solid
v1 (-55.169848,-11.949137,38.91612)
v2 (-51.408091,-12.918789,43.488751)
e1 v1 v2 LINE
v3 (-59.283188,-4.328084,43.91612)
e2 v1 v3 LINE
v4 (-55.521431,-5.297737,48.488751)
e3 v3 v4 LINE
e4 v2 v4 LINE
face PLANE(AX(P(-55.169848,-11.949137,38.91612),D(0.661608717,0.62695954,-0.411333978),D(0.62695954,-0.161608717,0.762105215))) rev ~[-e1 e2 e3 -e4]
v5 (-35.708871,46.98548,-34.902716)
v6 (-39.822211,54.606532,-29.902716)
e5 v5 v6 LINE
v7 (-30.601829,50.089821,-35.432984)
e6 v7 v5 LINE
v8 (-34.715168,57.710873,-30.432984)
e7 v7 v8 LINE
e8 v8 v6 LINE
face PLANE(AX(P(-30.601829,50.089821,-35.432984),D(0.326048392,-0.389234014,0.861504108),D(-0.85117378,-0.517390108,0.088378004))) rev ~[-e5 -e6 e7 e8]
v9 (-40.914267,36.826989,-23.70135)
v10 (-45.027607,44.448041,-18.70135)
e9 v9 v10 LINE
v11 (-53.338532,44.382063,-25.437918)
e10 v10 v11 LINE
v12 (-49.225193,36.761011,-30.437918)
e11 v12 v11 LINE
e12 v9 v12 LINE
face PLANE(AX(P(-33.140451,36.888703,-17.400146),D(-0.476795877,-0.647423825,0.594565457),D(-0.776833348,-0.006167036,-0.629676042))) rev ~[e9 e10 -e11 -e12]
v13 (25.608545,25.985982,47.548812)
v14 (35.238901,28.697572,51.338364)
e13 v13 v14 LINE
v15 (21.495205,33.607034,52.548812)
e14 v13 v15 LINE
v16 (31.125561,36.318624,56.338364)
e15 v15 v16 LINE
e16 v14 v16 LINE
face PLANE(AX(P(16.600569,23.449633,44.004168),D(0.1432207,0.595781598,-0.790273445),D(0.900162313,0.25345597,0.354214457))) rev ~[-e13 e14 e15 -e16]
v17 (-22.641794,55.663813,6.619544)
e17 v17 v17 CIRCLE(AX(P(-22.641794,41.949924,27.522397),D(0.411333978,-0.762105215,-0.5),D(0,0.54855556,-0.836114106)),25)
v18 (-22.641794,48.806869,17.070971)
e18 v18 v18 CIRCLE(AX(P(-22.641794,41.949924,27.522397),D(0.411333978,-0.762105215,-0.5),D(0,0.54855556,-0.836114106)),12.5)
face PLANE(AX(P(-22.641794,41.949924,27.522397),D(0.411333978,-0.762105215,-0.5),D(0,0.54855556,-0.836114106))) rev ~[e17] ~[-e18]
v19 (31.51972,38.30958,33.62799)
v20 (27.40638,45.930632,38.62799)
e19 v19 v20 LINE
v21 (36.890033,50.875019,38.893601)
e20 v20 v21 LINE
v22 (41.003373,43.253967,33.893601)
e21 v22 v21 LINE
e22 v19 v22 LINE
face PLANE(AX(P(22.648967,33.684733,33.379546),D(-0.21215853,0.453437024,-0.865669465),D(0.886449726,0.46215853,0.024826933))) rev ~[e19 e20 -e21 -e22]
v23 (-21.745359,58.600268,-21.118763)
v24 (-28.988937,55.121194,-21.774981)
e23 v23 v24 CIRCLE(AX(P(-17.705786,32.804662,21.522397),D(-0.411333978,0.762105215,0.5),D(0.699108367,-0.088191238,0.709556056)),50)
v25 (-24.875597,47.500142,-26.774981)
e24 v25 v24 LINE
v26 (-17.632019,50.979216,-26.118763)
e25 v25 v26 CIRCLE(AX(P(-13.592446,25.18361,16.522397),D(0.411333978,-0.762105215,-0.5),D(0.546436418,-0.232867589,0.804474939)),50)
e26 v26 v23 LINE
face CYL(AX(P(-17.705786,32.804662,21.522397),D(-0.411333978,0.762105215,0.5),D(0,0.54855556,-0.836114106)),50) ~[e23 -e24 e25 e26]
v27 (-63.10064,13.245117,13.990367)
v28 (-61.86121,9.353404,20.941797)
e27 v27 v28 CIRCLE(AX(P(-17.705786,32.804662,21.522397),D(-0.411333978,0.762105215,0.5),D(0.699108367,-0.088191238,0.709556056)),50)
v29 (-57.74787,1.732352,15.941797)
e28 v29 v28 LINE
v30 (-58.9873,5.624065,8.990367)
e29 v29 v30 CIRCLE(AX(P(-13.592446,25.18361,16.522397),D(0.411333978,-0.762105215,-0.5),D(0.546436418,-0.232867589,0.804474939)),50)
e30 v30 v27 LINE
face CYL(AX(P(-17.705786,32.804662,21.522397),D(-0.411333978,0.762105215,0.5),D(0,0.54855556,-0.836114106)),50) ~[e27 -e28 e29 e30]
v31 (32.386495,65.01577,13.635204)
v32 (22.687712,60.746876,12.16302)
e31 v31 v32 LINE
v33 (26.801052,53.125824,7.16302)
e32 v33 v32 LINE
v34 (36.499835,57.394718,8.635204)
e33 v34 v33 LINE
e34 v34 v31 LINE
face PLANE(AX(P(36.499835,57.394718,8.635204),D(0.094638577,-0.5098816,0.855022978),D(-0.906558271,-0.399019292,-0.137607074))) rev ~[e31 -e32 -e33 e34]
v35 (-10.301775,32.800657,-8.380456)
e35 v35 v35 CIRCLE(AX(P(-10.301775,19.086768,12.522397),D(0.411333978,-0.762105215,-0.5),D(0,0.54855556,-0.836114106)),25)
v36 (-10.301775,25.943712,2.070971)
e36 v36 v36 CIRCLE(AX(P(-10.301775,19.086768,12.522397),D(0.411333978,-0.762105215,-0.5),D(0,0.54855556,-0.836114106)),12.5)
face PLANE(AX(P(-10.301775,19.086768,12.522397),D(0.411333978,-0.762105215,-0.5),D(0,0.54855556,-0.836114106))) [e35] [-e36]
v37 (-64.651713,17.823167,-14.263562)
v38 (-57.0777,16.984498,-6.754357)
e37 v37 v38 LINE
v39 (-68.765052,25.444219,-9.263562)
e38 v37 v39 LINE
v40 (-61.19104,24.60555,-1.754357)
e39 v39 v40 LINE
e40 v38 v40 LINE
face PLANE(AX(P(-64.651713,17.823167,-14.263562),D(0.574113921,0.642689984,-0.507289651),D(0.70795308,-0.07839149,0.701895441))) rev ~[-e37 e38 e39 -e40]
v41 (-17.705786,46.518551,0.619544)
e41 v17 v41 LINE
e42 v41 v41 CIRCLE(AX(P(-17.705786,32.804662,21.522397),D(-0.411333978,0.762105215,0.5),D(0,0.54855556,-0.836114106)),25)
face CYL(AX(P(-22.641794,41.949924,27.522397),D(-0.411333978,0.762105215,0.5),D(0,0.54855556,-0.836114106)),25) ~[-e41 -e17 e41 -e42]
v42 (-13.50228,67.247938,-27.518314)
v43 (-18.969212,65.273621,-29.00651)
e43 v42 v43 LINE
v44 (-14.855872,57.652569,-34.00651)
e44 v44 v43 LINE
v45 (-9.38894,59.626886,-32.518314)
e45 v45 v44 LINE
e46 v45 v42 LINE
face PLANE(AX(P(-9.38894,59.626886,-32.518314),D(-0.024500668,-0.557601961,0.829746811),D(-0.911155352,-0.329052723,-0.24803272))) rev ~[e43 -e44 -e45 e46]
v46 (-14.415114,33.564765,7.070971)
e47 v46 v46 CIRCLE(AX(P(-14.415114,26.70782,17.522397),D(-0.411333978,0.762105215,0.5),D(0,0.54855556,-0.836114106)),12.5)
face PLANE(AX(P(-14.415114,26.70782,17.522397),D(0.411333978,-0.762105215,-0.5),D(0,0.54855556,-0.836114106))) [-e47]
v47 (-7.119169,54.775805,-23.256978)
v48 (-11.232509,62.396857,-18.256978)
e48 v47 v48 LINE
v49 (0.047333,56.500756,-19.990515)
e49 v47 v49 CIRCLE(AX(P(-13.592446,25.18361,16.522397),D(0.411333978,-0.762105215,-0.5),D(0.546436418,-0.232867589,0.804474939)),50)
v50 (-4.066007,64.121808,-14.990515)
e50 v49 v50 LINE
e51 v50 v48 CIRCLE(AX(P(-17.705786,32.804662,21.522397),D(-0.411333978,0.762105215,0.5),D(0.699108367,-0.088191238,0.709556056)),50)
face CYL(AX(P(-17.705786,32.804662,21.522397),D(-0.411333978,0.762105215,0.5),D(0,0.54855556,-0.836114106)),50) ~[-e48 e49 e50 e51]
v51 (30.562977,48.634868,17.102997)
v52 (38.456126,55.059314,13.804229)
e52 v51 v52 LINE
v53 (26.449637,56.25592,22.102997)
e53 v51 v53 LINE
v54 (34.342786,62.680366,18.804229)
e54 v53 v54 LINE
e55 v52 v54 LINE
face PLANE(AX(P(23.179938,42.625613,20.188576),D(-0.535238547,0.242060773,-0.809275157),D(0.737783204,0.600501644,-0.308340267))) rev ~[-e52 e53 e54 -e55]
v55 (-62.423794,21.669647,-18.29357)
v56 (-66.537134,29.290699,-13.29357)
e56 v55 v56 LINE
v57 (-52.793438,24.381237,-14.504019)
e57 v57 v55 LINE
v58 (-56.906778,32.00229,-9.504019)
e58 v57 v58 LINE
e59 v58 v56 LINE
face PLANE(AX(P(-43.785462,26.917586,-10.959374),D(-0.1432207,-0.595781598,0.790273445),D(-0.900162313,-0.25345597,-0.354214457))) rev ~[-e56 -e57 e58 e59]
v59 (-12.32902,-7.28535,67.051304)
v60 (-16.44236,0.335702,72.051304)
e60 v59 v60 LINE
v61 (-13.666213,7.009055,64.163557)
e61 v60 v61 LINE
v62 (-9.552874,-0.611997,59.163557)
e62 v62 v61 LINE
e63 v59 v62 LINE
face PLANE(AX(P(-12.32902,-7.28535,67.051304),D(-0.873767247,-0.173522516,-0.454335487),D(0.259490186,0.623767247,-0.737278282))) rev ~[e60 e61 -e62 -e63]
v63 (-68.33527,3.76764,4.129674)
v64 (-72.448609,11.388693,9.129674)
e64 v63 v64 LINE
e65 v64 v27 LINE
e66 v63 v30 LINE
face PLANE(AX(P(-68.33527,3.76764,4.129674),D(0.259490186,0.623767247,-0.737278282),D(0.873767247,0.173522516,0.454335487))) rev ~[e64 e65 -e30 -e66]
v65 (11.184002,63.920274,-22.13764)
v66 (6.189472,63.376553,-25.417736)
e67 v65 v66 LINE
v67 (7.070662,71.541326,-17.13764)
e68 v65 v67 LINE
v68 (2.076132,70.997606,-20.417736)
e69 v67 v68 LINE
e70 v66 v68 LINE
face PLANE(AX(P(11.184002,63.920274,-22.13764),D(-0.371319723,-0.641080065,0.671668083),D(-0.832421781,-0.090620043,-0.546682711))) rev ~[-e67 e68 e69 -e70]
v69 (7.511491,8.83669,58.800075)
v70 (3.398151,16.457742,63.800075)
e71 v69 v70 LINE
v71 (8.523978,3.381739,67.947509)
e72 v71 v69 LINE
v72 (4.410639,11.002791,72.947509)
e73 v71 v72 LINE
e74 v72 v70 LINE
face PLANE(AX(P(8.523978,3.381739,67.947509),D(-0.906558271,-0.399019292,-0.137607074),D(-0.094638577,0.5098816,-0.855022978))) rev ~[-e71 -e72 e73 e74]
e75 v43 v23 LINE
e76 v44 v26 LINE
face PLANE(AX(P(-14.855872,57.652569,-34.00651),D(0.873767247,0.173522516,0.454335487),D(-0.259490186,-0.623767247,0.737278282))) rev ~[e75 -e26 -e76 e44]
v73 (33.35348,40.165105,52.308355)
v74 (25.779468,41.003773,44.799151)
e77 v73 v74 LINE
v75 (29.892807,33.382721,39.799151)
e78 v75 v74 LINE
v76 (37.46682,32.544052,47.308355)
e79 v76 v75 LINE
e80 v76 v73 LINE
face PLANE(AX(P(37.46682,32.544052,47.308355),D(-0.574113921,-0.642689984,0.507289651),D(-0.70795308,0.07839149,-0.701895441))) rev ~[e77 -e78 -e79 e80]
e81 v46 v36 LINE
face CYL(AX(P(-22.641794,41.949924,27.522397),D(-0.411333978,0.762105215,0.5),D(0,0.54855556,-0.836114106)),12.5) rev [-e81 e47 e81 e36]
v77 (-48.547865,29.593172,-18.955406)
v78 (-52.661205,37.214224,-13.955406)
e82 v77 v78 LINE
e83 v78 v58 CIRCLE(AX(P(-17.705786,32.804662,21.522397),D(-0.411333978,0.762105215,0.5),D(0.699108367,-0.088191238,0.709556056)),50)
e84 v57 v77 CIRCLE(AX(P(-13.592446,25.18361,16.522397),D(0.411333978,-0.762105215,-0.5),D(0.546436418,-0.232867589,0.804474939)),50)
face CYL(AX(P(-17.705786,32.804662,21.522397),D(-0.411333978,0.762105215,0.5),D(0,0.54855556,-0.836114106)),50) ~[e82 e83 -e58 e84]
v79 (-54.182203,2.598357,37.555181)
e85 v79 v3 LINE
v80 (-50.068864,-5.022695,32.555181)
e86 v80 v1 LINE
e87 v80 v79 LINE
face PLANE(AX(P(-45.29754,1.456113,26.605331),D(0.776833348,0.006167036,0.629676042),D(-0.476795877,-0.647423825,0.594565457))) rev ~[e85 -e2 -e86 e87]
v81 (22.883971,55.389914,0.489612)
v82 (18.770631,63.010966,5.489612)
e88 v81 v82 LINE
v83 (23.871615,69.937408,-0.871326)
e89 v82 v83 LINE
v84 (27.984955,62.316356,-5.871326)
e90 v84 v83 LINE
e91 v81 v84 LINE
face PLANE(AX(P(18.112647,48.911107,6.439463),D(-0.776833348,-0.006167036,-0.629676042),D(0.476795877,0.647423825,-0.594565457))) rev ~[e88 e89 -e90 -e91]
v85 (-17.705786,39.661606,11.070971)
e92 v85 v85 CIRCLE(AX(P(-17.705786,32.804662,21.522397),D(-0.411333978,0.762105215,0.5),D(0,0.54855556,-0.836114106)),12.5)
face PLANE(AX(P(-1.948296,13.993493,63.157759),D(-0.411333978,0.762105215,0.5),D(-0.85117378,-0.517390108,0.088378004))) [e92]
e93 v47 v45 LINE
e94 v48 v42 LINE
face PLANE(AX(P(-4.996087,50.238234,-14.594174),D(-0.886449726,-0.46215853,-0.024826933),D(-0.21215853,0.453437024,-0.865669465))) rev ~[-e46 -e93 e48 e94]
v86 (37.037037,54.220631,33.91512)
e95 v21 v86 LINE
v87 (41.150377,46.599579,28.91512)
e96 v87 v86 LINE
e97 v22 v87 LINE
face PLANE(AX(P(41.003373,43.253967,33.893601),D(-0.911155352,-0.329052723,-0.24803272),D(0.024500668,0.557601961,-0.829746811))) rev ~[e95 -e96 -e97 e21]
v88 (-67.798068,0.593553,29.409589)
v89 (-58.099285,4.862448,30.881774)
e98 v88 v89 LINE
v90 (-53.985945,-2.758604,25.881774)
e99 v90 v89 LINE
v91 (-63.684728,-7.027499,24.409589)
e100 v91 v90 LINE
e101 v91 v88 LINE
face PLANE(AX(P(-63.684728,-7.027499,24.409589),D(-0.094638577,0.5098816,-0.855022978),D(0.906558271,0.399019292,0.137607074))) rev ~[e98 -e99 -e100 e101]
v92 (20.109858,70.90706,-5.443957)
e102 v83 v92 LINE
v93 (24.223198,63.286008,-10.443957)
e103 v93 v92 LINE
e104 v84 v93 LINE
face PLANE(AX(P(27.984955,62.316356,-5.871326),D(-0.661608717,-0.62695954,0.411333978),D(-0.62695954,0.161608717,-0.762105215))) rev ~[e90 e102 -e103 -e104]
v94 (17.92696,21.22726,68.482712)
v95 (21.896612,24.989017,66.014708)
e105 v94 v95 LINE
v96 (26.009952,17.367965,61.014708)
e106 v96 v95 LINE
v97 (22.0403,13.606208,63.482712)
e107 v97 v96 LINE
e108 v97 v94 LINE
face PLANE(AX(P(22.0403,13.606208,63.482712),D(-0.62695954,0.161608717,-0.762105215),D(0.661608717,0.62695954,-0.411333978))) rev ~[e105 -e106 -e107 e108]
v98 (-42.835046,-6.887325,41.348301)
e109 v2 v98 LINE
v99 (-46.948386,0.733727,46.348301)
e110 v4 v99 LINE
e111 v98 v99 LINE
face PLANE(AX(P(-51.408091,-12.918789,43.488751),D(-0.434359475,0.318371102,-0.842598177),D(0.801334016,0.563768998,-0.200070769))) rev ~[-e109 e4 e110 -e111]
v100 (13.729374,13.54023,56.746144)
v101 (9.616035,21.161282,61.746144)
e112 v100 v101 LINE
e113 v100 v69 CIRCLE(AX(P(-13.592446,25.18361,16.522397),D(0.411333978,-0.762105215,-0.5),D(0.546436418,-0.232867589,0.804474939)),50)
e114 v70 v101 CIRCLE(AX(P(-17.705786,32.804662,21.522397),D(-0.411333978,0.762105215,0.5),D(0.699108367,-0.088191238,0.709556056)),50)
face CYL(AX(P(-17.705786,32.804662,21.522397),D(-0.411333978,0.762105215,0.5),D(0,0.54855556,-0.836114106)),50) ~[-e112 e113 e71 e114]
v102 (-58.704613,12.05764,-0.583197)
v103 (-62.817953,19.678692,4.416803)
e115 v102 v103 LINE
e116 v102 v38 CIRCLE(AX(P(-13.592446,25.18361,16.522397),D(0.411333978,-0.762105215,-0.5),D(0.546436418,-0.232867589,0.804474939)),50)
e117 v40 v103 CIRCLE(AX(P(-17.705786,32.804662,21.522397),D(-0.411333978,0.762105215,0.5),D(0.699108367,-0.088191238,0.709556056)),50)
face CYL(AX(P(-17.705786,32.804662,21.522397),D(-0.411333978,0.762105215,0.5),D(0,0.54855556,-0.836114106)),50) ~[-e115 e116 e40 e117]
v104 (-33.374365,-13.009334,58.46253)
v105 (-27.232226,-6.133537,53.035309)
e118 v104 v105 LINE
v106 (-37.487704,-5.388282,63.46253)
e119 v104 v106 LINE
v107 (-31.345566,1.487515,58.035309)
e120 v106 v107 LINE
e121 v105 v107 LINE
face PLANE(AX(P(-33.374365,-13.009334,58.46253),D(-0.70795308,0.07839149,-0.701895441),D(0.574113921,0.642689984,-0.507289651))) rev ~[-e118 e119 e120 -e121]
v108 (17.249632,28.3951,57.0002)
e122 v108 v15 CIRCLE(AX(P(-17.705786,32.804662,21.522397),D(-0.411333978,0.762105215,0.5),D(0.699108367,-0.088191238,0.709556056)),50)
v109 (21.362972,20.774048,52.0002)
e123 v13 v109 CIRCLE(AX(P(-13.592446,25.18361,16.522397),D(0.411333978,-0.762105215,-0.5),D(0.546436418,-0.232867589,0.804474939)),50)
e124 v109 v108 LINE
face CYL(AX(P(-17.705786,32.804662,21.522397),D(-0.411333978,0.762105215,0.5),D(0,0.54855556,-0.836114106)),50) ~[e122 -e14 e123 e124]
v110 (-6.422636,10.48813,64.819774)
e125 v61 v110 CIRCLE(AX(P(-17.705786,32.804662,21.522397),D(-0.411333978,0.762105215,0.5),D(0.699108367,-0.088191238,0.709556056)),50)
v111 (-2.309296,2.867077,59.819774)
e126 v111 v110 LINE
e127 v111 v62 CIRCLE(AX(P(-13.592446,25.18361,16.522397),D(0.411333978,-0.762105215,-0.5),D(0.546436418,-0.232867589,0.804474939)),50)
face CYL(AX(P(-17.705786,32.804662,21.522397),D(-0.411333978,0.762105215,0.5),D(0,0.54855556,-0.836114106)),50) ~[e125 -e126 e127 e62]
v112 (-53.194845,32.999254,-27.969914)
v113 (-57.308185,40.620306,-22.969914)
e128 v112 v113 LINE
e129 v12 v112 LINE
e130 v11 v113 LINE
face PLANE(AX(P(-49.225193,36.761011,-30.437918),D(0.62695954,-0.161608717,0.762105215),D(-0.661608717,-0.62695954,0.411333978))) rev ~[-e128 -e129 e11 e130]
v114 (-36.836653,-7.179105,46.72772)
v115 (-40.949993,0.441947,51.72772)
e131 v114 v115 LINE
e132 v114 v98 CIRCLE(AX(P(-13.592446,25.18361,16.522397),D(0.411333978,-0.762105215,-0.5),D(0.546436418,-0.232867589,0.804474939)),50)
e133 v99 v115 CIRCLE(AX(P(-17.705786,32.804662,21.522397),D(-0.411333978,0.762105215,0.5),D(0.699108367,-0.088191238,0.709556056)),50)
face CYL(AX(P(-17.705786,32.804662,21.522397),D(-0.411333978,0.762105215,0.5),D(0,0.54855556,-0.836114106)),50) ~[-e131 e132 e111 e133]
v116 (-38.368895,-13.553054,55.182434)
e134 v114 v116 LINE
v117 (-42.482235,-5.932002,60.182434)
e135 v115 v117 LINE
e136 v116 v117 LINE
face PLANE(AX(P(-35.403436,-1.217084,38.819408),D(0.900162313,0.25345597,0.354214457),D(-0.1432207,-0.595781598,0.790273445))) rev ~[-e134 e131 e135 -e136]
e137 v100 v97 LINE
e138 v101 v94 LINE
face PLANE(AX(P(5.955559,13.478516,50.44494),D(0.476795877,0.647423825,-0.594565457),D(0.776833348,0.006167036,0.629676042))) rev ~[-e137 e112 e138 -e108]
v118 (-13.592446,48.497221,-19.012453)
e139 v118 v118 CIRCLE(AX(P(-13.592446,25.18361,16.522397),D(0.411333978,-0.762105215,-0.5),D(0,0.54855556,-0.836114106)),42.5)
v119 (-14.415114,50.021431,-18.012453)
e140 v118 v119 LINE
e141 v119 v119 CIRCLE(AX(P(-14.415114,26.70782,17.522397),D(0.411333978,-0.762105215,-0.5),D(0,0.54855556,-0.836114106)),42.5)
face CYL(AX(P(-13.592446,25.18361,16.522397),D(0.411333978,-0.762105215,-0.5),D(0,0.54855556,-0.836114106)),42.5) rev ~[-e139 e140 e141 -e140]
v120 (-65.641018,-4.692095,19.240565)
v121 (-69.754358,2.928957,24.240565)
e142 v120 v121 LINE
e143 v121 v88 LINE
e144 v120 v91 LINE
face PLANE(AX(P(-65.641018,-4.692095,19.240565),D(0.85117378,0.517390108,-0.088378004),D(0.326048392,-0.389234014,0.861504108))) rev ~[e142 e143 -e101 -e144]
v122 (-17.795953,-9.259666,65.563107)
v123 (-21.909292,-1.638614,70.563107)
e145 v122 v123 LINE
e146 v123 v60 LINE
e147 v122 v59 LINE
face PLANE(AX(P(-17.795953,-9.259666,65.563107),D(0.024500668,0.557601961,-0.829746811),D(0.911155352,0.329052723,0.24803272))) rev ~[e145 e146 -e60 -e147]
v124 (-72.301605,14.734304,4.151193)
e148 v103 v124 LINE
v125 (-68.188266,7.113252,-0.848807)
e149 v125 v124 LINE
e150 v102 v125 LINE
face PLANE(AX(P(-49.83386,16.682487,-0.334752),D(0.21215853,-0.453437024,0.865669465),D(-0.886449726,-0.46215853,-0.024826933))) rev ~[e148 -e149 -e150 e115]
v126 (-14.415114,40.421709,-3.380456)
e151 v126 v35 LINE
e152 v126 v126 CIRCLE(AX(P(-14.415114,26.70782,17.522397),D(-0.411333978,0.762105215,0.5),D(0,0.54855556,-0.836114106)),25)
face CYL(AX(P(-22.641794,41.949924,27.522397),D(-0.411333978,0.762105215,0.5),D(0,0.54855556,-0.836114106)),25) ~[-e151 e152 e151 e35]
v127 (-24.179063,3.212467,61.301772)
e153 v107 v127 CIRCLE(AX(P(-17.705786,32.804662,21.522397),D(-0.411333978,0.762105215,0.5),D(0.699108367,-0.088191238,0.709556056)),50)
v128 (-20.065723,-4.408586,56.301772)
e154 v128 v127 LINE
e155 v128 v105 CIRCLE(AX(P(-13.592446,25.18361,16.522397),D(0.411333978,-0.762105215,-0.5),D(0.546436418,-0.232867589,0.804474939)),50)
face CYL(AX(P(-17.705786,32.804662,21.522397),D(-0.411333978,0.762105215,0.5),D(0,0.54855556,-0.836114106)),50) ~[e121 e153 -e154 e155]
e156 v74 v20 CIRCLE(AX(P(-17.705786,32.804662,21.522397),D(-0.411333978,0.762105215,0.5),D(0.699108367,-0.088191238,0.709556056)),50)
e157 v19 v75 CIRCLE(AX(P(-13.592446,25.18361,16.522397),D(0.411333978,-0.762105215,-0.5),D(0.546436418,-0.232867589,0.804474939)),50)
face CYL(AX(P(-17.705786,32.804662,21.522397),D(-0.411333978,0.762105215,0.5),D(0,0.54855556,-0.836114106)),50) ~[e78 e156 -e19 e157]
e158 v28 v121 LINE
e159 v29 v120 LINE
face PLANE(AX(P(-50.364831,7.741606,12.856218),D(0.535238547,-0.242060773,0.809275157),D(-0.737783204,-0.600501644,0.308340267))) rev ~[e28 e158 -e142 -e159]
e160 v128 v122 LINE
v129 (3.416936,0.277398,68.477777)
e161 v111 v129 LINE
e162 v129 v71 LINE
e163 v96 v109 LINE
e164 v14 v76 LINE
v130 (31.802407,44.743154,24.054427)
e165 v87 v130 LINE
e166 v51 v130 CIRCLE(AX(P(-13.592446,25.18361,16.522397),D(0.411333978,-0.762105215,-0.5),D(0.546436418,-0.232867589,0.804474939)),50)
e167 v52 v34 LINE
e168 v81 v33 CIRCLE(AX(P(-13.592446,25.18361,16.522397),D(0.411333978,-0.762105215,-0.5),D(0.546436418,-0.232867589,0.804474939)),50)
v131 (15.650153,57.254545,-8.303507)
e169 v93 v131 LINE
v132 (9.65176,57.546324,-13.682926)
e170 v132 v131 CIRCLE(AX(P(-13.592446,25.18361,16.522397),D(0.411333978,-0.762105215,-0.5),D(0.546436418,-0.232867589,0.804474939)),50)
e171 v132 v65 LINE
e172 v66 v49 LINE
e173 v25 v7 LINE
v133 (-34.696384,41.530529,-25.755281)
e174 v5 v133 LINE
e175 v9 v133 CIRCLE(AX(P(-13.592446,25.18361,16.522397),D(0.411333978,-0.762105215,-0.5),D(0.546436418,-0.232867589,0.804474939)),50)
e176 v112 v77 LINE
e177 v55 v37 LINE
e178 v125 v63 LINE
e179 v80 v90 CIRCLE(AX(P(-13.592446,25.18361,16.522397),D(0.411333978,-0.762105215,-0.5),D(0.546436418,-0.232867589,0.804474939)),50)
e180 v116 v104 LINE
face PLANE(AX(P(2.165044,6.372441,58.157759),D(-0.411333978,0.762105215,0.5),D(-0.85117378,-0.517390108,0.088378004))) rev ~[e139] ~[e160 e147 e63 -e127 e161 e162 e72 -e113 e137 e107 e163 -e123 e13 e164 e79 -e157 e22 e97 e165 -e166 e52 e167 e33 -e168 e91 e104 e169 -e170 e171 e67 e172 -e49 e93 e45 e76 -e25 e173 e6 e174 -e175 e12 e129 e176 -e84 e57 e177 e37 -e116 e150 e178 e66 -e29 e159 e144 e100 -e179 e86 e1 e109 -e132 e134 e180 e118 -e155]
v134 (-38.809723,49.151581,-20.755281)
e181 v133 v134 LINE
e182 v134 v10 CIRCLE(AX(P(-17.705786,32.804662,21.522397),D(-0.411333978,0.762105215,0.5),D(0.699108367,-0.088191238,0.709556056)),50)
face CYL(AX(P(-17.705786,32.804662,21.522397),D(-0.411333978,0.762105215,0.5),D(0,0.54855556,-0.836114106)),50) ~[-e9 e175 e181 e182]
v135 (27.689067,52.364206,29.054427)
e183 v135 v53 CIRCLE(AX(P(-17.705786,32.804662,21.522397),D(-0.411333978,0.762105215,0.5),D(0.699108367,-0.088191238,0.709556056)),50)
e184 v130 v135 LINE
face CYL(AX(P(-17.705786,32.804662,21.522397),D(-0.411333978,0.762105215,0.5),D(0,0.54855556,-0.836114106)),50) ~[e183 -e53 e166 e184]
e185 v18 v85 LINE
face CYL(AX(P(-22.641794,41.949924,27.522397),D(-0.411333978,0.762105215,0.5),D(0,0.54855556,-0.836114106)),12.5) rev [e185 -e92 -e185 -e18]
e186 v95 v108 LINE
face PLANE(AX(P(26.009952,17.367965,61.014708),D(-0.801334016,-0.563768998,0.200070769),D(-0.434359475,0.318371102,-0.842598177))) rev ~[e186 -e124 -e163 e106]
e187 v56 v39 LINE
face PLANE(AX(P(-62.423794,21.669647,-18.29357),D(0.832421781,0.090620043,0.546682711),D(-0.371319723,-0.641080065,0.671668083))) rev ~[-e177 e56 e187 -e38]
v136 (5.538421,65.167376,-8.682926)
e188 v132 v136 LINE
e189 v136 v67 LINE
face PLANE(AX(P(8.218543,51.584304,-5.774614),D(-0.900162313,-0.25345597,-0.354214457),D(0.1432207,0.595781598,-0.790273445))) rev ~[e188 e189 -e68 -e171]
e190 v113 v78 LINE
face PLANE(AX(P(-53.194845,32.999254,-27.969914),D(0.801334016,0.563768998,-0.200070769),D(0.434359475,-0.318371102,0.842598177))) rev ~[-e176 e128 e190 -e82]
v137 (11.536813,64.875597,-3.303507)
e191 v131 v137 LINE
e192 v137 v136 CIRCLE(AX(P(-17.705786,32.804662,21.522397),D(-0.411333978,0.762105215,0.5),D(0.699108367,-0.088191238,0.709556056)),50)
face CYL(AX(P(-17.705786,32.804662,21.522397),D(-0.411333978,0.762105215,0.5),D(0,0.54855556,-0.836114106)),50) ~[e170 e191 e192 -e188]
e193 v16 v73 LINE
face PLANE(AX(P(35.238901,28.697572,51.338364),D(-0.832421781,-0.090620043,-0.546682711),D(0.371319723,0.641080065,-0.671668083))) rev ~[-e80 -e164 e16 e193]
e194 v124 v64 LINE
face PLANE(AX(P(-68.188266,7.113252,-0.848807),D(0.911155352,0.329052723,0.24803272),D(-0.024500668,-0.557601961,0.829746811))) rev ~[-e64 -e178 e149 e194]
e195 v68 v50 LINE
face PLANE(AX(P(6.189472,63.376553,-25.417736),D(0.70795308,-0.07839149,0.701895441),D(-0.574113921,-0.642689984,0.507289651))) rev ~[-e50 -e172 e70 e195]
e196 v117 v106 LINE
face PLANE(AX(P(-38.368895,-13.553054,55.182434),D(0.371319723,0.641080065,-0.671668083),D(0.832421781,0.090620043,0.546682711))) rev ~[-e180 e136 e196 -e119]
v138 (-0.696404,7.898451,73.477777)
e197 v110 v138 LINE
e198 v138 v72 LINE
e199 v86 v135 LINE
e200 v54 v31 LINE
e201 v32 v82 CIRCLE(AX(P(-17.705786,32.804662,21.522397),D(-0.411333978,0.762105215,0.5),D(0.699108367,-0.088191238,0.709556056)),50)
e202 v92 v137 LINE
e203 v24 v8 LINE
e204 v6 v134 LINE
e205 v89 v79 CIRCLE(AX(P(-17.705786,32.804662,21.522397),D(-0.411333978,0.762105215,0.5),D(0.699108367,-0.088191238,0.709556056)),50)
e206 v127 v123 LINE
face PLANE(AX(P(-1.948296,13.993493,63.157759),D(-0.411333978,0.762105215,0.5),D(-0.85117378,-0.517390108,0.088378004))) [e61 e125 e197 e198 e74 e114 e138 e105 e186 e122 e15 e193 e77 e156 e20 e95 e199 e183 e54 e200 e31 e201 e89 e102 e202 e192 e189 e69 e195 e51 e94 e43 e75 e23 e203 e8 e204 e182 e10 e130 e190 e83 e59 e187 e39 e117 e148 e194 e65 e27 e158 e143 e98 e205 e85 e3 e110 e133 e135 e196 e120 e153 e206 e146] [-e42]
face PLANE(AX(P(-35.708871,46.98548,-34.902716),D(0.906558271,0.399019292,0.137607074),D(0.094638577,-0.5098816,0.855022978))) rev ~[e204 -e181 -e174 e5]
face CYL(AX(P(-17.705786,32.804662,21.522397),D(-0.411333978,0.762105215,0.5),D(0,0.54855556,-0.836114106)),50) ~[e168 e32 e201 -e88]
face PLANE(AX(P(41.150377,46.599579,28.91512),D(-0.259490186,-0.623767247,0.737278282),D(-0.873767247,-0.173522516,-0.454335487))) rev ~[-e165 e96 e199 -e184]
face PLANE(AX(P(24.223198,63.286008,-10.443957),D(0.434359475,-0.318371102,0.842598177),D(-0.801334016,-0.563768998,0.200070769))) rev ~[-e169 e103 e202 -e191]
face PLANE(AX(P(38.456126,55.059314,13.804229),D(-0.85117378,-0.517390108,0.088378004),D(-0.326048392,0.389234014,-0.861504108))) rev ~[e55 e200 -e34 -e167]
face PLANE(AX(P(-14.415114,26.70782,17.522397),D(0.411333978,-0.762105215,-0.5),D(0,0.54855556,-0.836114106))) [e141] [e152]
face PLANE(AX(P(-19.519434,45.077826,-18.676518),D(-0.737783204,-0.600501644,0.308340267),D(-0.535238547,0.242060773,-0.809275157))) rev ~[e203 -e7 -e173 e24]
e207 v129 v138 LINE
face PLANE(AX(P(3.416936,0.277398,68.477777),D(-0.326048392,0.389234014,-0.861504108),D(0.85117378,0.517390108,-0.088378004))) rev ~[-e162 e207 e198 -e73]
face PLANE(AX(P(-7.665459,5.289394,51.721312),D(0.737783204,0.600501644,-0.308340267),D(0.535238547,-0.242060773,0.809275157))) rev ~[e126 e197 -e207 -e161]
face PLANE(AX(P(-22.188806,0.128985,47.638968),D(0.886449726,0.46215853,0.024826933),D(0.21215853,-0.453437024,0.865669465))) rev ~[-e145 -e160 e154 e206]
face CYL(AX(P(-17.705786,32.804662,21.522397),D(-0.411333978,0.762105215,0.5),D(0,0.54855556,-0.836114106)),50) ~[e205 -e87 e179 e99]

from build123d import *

# Parameters (mm, degrees)
SKETCH1_R           = 50
EXTRUDE1_DEPTH      = 10
EXTRUDE2_DEPTH      = 10
CIRPATTERN1_COUNT   = 16
SKETCH3_R           = 42.5
CUT_EXTRUDE1_DEPTH  = 2
EXTRUDE3_DEPTH      = 10
EXTRUDE3_DEPTH_BACK = 20
SKETCH4_R           = 25
SKETCH4_R_2         = 12.5


with BuildPart() as part:
    # Sketch1 → Extrude1 (new body)
    with BuildSketch(Plane(origin=(-35.411572528, 65.609323585, -43.044793763), x_dir=(0.661608716570187, 0.6269595397180289, -0.4113339783131309), z_dir=(0.411333978313131, -0.7621052147079792, -0.49999999999999767))):
        with Locations(Location((-35.411572528, 65.609323585, 0), (0, 0, 313.459706489))):
            Circle(SKETCH1_R)
    extrude(amount=EXTRUDE1_DEPTH)

    # Sketch2 → Extrude2 (add)
    with BuildSketch(Plane(origin=(-13.592446481, 25.183609646, 16.522396881), x_dir=(0.661608716570187, 0.6269595397180289, -0.4113339783131309), z_dir=(0.4113339783131311, -0.7621052147079793, -0.4999999999999976))):
        Polygon((-3, 60), (3, 60), (8.358983849, 40), (-8.358983849, 40), align=None)
    extrude2 = extrude(amount=-EXTRUDE2_DEPTH)

    # CirPattern1: Extrude2 ×16 about axis
    cirpattern1_axis = Axis((0, 0, 0), (-0.41133397831313073, 0.7621052147079793, 0.4999999999999978))
    for i in range(1, CIRPATTERN1_COUNT):
        add(extrude2.rotate(cirpattern1_axis, i * 360 / CIRPATTERN1_COUNT))

    # Sketch3 → Cut-Extrude1 (cut)
    with BuildSketch(Plane(origin=(-13.592446481, 25.183609646, 16.522396881), x_dir=(0.661608716570187, 0.6269595397180289, -0.4113339783131309), z_dir=(0.4113339783131311, -0.7621052147079793, -0.4999999999999976))):
        with Locations(Location((0, 0, 0), (0, 0, 313.459706489))):
            Circle(SKETCH3_R)
    extrude(amount=-CUT_EXTRUDE1_DEPTH, mode=Mode.SUBTRACT)

    # Sketch4 → Extrude3 (add, two sides: drawn at the far end of the back side and taken through both)
    with BuildSketch(Plane(origin=(-14.415114438, 26.707820075, 17.522396881), x_dir=(0.661608716570187, 0.626959539718029, -0.41133397831313107), z_dir=(0.4113339783131311, -0.7621052147079793, -0.49999999999999756)).offset(-EXTRUDE3_DEPTH_BACK)):
        with Locations(Location((0, 0, 0), (0, 0, 313.459706489))):
            Circle(SKETCH4_R)
        with Locations(Location((0, 0, 0), (0, 0, 313.459706489))):
            Circle(SKETCH4_R_2, mode=Mode.SUBTRACT)
    extrude(amount=EXTRUDE3_DEPTH + EXTRUDE3_DEPTH_BACK)


solid = part.part
